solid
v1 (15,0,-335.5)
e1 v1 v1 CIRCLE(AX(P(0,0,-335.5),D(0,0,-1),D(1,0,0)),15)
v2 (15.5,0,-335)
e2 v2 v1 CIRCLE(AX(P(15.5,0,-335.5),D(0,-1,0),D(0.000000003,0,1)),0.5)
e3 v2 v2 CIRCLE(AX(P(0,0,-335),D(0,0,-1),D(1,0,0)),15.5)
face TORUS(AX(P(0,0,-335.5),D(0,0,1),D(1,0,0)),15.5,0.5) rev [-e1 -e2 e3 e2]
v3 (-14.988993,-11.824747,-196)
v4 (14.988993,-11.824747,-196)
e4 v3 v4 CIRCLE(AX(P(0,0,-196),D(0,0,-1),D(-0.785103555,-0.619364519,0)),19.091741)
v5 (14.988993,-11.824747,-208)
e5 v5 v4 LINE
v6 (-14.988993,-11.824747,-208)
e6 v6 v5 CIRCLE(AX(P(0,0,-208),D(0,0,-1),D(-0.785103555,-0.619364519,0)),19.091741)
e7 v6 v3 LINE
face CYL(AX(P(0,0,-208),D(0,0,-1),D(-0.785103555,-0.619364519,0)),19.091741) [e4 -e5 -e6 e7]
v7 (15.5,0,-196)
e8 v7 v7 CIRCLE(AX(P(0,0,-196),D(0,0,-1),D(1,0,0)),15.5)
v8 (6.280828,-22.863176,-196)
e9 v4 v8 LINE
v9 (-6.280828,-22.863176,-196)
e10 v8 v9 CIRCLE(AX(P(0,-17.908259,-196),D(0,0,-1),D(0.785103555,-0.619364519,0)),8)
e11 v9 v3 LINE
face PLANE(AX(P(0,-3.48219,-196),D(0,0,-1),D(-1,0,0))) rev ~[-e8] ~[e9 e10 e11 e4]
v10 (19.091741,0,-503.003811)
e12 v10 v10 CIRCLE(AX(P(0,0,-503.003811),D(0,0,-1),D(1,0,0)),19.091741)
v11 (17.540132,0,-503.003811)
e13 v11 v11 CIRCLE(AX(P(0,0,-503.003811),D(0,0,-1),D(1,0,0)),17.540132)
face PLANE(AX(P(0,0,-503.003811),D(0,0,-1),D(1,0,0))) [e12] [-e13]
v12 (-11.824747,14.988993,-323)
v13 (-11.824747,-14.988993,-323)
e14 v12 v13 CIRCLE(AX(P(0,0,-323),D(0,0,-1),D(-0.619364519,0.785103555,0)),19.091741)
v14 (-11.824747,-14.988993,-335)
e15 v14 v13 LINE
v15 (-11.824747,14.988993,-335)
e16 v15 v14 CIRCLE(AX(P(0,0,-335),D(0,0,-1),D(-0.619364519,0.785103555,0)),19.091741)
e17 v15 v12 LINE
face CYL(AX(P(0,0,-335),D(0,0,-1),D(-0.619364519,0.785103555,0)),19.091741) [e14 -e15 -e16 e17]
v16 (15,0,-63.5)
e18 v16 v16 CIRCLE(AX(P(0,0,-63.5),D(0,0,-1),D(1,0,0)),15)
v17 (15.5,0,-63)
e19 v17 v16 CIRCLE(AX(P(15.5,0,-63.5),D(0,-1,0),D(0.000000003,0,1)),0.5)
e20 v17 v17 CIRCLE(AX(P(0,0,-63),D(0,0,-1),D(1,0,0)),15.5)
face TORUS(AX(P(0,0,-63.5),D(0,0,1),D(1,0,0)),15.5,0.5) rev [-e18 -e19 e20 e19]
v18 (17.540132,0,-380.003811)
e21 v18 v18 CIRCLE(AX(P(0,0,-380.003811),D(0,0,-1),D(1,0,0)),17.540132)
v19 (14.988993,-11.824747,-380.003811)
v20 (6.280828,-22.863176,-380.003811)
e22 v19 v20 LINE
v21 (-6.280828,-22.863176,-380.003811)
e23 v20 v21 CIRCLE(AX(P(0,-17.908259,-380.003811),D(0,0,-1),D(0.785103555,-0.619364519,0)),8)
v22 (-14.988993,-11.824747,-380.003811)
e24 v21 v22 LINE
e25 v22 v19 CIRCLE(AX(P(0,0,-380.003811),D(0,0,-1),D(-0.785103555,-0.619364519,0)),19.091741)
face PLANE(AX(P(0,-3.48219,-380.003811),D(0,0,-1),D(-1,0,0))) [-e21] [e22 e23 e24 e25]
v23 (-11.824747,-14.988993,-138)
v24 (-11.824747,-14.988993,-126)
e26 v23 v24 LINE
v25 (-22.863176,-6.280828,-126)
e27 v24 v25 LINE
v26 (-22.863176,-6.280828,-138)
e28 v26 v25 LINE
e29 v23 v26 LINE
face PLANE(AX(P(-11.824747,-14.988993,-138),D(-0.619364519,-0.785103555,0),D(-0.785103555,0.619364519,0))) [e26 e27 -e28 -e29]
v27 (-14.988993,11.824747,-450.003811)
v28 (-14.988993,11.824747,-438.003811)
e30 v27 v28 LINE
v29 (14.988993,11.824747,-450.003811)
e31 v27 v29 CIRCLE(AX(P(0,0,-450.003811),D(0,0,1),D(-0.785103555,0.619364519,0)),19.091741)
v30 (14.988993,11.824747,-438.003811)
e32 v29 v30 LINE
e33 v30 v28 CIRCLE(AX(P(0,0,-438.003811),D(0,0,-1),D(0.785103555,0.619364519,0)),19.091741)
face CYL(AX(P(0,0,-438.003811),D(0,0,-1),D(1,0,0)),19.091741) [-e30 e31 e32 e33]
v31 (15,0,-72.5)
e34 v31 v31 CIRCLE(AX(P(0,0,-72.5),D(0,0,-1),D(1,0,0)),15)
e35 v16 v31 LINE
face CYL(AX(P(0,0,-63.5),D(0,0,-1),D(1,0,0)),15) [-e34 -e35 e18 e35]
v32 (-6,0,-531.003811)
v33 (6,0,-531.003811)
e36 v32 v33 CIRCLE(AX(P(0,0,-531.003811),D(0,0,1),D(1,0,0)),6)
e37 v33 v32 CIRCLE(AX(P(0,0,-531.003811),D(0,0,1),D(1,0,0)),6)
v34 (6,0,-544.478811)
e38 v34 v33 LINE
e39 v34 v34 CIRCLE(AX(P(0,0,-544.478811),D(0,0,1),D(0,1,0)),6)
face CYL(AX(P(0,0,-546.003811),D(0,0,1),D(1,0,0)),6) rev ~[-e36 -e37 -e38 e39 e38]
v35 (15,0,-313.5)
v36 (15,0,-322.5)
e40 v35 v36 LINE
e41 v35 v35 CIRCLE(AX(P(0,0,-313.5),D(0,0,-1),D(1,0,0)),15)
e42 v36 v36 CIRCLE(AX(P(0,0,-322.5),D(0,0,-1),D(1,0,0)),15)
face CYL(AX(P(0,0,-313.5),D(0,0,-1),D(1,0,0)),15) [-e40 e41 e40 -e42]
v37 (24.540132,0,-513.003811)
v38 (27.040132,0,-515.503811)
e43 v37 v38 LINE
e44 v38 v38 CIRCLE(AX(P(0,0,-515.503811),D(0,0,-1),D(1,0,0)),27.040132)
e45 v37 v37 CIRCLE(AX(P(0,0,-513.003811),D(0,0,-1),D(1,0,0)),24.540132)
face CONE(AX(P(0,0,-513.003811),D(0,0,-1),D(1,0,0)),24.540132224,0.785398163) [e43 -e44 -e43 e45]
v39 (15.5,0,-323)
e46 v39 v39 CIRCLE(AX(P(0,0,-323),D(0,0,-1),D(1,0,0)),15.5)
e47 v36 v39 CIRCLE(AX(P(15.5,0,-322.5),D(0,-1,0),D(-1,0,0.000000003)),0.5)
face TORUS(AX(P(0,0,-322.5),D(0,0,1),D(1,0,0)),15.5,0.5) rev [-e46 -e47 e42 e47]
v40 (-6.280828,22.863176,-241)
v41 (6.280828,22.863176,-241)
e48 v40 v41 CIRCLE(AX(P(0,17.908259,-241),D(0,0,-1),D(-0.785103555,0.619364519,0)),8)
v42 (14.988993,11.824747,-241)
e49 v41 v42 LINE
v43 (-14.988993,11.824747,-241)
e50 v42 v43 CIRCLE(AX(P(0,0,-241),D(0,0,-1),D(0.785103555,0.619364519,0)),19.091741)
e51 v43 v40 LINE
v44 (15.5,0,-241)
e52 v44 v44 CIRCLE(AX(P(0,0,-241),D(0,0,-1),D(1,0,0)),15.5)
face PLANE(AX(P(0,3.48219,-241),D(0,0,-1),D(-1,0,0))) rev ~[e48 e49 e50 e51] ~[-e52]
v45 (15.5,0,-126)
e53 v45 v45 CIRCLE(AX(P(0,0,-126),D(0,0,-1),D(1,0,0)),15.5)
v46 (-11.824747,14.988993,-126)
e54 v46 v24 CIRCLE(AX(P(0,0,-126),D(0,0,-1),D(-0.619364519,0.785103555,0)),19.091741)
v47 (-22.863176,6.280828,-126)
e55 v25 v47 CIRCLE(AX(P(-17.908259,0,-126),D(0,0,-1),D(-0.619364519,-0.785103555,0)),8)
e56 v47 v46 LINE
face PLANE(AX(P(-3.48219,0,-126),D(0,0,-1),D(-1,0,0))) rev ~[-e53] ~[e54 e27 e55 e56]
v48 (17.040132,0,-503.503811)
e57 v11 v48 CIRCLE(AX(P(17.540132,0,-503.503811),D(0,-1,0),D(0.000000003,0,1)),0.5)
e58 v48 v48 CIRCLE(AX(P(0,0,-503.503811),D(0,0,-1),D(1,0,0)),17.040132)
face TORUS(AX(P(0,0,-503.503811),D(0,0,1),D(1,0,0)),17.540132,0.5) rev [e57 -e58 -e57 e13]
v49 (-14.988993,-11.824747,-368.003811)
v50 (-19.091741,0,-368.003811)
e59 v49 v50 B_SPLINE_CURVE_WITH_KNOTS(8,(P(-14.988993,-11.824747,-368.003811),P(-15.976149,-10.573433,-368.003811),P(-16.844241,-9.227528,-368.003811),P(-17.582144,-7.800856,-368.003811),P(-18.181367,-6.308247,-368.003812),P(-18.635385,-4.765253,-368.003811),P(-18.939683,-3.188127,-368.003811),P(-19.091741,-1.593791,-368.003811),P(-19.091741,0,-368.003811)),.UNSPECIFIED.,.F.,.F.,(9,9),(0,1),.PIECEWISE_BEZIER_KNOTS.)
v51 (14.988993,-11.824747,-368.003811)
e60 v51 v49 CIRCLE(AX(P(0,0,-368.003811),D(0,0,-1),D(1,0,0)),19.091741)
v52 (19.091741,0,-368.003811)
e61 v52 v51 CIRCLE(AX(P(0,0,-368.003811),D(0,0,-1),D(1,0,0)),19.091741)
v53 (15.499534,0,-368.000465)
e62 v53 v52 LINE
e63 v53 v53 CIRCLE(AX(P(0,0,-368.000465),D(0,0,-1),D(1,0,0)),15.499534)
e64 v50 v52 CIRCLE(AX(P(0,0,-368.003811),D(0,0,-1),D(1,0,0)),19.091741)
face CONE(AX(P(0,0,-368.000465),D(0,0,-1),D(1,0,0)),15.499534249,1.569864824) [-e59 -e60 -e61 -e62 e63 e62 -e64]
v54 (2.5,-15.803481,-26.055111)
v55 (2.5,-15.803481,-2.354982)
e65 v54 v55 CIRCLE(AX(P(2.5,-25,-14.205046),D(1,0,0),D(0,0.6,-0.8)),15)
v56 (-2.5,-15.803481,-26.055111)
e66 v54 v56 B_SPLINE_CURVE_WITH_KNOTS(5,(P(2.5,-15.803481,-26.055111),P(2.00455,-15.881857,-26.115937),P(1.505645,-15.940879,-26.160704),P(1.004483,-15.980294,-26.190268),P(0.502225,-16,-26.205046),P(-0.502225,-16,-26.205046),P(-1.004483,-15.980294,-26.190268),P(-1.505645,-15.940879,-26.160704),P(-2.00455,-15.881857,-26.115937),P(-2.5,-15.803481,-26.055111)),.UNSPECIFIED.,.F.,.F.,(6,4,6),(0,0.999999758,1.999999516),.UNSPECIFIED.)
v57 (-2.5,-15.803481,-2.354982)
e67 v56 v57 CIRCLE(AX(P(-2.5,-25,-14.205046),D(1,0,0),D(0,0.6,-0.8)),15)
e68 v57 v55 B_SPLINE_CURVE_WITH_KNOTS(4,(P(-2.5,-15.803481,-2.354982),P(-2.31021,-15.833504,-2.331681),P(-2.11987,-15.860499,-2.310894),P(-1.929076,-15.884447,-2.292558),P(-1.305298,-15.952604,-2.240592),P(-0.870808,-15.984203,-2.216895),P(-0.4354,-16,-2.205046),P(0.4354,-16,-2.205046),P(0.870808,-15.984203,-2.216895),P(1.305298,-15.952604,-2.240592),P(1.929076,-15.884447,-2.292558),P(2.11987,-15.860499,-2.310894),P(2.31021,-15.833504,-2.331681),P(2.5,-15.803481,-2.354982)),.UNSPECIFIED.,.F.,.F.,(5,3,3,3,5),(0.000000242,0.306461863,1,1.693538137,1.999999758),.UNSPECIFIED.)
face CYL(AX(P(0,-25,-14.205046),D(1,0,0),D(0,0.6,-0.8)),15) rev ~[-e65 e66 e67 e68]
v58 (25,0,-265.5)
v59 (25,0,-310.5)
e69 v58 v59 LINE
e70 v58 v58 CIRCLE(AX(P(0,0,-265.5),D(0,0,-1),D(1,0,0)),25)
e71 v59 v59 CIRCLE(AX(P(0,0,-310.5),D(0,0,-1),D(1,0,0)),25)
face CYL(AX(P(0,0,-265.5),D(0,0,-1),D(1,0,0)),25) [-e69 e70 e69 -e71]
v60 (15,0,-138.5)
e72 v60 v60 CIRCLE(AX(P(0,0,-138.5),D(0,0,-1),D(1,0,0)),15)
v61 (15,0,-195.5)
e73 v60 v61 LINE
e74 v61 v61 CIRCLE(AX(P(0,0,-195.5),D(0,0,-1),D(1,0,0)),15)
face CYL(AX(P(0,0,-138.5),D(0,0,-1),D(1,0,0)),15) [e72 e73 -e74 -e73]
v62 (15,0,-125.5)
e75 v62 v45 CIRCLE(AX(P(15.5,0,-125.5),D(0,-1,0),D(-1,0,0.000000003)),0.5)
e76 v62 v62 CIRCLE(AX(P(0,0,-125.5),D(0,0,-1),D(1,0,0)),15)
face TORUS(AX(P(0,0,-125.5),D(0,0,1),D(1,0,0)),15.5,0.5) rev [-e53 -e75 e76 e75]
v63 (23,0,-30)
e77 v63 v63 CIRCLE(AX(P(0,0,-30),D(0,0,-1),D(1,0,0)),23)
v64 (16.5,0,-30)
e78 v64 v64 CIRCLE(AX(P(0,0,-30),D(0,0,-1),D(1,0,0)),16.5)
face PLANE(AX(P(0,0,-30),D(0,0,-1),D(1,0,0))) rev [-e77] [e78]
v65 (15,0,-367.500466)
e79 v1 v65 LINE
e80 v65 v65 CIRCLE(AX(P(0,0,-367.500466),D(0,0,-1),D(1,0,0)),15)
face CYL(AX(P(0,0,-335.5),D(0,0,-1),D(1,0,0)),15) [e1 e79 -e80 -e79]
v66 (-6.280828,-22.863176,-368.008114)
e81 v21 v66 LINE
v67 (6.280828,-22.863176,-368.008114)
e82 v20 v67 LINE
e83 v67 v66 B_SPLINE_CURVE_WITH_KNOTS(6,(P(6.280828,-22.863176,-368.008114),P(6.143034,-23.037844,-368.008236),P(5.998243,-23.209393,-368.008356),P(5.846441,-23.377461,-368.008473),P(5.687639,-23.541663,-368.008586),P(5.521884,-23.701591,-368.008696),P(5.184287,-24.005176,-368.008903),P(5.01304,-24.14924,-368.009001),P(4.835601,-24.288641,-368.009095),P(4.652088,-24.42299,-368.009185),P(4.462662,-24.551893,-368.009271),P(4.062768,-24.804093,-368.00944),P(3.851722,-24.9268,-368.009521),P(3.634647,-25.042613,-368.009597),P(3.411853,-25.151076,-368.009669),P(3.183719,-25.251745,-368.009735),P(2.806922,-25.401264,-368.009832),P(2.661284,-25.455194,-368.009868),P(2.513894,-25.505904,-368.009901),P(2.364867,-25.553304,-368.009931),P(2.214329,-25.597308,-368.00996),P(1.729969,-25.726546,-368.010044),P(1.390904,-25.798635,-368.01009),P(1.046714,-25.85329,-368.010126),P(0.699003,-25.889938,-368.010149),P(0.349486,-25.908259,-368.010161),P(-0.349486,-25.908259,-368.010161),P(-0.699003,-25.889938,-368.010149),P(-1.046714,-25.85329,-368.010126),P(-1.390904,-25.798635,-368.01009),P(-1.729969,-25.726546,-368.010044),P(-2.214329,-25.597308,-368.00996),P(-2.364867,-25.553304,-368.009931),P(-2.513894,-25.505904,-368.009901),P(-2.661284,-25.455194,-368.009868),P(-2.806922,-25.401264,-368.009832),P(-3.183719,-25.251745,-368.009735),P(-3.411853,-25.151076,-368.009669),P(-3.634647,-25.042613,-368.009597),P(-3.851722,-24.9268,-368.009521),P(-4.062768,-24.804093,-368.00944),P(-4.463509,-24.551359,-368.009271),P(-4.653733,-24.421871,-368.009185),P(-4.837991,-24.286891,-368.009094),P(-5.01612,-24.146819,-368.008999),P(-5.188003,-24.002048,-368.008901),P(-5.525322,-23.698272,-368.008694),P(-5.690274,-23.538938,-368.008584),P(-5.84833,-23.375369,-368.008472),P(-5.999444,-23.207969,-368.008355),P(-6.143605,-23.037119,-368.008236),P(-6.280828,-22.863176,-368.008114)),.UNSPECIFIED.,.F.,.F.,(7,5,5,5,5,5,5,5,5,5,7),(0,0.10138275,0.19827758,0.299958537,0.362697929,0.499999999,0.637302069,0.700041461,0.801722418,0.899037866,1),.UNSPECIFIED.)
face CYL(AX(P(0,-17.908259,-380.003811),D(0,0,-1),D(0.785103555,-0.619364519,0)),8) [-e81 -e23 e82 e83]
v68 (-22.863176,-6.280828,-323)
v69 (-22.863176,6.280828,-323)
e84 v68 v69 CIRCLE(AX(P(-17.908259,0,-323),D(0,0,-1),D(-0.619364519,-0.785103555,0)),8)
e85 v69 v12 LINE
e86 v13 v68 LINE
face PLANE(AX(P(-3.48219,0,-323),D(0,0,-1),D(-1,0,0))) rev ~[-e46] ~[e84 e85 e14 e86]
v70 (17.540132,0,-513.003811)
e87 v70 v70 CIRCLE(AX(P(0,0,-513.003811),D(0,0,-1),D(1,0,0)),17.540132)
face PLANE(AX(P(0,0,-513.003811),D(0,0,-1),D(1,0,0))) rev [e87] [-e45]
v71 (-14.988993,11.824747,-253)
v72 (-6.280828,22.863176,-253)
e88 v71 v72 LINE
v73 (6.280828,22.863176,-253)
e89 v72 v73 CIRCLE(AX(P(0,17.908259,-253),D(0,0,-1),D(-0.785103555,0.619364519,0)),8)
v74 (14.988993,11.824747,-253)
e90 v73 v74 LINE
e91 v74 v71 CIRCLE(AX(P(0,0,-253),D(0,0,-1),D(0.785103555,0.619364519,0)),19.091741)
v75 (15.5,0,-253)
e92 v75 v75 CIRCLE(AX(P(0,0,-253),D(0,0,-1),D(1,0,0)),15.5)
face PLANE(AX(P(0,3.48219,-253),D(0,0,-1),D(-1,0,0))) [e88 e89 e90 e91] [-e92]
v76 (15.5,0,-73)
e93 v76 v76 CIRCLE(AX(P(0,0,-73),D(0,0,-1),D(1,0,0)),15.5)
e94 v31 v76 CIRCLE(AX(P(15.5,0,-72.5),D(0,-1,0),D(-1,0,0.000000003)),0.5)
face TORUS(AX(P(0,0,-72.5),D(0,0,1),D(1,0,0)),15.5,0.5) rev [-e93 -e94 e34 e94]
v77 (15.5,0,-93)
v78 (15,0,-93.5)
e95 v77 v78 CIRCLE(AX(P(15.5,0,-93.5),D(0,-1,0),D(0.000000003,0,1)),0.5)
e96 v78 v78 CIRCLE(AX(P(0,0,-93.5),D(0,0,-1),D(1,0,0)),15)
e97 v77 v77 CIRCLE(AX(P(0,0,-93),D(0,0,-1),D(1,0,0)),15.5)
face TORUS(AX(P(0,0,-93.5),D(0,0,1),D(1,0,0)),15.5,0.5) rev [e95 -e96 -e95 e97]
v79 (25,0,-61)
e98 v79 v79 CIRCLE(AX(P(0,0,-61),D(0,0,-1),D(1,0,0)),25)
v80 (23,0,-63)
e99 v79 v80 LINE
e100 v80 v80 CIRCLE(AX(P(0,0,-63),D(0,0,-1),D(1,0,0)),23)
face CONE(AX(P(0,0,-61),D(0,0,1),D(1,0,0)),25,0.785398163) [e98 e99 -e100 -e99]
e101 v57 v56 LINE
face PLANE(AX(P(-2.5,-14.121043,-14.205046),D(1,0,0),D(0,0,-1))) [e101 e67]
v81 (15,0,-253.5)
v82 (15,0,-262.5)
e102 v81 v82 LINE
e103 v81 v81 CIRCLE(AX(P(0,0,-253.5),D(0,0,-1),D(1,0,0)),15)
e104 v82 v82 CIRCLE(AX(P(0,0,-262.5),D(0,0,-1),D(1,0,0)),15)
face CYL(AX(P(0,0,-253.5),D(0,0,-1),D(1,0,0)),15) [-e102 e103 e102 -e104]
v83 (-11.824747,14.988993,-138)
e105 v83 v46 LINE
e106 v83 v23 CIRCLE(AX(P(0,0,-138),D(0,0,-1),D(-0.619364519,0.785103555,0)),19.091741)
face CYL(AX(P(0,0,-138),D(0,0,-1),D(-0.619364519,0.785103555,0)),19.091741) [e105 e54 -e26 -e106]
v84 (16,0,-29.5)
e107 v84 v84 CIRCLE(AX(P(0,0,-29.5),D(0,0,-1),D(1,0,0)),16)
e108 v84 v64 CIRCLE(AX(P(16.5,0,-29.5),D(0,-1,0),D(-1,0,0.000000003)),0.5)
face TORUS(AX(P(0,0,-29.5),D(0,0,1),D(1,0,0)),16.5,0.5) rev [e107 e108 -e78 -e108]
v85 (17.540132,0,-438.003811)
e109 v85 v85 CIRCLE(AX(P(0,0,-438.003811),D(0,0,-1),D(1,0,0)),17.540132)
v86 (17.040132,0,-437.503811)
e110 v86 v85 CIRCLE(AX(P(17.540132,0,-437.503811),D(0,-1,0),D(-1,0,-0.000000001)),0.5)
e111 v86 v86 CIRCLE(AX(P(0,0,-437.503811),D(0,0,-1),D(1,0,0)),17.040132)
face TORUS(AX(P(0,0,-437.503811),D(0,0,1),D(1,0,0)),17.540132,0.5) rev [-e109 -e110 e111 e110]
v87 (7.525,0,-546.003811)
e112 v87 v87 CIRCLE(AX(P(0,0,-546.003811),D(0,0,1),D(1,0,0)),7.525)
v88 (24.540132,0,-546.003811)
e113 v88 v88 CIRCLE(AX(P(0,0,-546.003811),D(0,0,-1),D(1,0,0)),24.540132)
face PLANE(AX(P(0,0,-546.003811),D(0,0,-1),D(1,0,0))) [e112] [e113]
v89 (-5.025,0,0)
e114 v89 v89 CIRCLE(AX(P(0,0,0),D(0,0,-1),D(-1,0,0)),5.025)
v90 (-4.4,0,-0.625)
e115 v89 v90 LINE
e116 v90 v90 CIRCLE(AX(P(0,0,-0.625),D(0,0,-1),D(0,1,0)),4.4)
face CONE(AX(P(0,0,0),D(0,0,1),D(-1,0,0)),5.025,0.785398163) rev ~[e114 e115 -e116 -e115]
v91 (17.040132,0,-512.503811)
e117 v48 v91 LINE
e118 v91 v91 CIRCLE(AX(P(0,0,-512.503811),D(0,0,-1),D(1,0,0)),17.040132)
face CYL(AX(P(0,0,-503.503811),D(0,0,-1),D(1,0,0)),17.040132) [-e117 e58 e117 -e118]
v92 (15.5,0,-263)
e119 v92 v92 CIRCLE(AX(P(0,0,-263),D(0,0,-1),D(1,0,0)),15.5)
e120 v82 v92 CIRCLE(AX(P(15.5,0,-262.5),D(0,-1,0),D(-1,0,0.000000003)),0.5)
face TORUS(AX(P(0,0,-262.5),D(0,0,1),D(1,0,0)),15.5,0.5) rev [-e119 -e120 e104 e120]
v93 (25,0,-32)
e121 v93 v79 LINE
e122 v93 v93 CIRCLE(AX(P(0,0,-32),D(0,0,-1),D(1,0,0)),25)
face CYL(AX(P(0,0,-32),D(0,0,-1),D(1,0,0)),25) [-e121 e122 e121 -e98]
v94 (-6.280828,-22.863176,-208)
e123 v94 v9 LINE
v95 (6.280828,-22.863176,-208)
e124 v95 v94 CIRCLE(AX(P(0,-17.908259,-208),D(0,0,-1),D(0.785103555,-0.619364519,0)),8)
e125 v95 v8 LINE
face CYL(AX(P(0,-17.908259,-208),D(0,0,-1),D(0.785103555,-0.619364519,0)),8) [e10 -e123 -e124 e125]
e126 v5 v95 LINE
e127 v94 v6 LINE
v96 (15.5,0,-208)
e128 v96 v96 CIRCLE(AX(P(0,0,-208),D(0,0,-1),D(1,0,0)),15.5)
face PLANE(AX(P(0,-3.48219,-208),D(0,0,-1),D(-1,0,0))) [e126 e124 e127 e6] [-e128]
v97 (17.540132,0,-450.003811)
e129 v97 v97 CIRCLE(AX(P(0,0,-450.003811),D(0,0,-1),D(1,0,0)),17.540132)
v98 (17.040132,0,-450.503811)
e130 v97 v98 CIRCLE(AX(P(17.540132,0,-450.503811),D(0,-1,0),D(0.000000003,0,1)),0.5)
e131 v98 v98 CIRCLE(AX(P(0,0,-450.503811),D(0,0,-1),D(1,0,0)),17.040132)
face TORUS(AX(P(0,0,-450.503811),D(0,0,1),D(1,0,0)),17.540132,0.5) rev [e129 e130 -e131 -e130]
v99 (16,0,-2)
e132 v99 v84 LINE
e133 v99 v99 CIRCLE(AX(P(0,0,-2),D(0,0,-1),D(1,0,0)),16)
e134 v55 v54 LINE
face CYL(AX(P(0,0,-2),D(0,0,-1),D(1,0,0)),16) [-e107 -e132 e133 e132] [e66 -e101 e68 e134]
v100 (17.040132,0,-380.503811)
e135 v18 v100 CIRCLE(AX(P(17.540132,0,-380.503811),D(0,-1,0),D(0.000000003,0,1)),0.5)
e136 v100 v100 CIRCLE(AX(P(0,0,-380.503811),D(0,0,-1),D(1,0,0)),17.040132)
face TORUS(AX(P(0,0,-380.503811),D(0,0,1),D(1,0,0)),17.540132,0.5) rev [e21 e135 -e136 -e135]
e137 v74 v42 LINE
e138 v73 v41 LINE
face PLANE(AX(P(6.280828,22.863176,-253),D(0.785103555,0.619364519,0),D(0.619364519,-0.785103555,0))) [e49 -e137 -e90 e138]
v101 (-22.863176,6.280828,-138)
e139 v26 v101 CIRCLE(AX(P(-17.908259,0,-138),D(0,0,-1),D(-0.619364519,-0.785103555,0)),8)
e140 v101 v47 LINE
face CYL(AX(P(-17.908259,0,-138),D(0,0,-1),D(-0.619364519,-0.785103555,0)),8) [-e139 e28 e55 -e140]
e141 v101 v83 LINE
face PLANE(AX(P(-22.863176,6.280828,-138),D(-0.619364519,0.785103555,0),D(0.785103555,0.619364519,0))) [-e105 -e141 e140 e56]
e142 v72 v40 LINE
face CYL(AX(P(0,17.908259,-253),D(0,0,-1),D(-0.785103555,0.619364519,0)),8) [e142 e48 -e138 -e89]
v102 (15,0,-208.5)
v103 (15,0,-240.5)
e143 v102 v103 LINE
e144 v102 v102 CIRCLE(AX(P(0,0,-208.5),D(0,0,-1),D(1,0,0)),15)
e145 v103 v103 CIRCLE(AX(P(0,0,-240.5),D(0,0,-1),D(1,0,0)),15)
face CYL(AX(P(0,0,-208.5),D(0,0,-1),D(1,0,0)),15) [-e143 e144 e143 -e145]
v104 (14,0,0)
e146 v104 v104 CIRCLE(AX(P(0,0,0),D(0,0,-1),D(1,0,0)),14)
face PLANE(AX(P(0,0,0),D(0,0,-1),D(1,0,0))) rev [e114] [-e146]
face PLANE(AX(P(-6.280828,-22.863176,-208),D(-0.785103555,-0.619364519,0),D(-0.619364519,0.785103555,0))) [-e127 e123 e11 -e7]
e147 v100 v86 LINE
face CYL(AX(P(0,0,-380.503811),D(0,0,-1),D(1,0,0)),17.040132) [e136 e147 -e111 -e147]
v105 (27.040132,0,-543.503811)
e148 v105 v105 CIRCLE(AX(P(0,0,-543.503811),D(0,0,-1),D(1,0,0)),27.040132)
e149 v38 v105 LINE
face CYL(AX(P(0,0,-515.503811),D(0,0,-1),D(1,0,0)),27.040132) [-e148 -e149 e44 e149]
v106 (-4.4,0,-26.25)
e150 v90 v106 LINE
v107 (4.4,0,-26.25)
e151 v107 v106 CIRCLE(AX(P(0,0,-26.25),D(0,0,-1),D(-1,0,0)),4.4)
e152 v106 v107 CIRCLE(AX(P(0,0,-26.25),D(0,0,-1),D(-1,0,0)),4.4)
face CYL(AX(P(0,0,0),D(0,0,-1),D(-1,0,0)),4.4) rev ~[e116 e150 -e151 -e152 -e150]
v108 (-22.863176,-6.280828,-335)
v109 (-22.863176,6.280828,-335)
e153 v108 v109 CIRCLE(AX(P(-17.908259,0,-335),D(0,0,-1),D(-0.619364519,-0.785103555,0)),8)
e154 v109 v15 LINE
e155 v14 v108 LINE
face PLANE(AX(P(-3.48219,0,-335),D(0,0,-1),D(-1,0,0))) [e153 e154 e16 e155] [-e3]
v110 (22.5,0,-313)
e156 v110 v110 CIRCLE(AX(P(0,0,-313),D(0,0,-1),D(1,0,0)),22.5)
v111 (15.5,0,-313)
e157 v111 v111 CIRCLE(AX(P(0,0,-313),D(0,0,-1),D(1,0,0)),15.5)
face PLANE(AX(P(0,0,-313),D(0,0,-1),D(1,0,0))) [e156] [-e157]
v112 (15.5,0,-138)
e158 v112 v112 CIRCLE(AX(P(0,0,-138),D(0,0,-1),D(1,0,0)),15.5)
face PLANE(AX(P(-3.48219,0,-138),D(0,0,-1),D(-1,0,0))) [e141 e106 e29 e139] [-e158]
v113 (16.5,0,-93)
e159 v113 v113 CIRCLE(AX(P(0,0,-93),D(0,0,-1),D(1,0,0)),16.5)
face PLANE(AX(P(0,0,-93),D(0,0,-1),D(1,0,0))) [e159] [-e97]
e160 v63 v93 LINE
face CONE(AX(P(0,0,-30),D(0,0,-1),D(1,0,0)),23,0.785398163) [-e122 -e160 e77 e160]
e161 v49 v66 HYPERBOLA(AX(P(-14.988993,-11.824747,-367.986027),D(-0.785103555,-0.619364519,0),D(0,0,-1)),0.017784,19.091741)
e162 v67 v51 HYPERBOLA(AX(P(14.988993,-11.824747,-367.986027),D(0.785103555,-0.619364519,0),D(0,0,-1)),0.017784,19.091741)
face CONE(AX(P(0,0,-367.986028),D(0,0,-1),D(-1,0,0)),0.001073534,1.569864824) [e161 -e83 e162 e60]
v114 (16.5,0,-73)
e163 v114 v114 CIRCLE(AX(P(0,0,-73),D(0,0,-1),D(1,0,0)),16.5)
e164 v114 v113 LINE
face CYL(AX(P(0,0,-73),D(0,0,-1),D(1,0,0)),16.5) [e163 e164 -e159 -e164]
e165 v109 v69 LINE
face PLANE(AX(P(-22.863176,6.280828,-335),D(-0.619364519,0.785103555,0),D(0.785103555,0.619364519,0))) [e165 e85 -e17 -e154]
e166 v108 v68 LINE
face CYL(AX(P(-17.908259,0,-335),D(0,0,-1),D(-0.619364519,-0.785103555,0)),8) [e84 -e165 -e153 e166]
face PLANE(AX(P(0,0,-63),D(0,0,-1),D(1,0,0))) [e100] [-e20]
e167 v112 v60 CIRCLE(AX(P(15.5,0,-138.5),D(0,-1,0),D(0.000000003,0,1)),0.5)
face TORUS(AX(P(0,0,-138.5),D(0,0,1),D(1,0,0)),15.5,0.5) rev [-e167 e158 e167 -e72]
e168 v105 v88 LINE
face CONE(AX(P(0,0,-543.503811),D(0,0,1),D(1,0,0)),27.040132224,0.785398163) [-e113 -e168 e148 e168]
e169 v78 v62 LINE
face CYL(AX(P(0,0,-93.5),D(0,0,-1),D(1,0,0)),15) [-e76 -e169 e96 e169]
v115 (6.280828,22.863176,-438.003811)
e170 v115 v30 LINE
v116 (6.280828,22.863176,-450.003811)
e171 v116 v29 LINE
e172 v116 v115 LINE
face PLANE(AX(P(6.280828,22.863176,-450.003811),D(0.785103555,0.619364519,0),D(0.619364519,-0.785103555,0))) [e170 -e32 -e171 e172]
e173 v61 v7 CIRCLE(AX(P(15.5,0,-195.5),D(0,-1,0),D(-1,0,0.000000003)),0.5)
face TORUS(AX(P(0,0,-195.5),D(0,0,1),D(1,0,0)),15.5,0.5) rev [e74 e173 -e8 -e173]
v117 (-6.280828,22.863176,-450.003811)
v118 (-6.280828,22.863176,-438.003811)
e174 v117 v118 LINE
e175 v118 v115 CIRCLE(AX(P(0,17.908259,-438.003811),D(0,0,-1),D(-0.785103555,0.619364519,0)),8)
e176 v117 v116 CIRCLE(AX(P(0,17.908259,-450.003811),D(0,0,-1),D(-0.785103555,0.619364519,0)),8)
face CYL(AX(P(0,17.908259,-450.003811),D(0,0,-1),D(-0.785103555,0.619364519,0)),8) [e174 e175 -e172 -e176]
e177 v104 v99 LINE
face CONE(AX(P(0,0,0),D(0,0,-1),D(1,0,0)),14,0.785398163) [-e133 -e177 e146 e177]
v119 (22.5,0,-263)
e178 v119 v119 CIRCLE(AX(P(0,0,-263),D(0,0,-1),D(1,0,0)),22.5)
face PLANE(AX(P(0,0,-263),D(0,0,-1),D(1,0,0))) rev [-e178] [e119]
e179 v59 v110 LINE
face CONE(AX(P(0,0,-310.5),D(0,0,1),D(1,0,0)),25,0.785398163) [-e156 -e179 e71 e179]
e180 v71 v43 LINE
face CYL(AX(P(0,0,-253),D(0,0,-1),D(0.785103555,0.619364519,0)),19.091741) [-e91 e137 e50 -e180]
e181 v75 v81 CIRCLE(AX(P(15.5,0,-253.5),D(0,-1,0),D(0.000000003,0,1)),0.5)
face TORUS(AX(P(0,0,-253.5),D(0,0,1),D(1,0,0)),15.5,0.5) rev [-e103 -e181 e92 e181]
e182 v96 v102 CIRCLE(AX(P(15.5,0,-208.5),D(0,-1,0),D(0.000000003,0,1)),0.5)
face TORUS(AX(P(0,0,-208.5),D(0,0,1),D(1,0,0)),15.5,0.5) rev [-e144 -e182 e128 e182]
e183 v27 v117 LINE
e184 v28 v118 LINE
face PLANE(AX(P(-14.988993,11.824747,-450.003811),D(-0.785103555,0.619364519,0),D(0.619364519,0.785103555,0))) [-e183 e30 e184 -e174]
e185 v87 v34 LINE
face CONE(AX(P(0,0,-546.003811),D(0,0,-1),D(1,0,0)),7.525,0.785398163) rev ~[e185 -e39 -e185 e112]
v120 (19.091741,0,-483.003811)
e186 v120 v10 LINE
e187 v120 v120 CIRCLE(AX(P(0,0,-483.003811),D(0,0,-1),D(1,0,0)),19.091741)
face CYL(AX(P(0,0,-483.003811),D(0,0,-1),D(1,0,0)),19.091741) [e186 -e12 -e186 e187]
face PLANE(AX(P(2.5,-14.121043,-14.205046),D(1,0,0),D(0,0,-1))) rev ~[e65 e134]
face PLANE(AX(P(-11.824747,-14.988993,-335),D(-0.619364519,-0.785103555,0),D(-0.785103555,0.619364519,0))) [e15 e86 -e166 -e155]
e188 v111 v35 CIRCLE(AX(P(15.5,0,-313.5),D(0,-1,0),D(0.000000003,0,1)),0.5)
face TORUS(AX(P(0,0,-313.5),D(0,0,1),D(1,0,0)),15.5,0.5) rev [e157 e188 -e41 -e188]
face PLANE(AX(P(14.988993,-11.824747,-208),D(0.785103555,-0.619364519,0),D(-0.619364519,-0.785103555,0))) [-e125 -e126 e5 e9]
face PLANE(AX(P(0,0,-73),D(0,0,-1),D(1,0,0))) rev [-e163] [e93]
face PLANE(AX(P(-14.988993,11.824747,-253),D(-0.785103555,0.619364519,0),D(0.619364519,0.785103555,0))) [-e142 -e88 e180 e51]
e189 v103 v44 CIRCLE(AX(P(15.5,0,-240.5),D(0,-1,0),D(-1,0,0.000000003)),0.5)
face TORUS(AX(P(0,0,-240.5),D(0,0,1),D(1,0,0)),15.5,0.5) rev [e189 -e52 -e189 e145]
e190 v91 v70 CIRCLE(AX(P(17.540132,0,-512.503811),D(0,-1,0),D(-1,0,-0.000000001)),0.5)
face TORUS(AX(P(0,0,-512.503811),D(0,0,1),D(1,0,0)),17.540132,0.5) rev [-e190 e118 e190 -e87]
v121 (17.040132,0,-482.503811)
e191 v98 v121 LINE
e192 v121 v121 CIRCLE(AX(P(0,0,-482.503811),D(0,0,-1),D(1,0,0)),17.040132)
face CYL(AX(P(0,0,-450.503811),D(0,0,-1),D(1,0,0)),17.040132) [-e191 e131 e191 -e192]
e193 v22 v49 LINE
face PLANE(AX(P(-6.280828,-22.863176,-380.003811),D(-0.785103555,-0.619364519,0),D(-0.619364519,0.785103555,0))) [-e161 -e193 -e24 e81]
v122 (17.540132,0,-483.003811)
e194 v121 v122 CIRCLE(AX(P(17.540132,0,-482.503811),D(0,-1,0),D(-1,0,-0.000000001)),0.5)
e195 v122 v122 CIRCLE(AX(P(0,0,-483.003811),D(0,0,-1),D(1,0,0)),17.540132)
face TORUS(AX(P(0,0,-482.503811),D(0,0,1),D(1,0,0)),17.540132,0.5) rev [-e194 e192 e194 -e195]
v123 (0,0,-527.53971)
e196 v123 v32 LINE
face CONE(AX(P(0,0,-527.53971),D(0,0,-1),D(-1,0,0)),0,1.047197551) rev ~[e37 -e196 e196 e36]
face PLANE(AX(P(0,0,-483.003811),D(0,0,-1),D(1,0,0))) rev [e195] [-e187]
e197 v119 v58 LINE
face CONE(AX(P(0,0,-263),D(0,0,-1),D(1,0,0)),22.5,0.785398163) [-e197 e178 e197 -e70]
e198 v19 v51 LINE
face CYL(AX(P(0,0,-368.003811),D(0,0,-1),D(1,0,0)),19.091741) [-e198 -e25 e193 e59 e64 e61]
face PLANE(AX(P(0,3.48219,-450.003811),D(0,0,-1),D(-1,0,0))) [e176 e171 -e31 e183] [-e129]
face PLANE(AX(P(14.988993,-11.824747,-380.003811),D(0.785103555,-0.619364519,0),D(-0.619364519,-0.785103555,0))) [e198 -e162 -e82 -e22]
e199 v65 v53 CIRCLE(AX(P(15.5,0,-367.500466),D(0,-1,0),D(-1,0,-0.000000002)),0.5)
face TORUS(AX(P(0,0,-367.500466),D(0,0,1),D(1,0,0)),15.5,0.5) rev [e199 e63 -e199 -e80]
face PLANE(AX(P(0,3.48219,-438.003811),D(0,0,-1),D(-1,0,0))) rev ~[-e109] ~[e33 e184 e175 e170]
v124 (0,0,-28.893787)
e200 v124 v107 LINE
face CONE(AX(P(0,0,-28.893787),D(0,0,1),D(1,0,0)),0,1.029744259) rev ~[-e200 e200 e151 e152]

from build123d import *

# Parameters (mm, degrees)
F_12_0_12_DIAMETER_HOLE1_D           = 12
F_12_0_12_DIAMETER_HOLE1_DEPTH       = 15
F_12_0_12_DIAMETER_HOLE1_CSINK_D     = 15.05
F_12_0_12_DIAMETER_HOLE1_CSINK_ANGLE = 90
F_12_0_12_DIAMETER_HOLE1_TIP         = 3.464101615
M10X1_25_TAPPED_HOLE1_D              = 8.8
M10X1_25_TAPPED_HOLE1_DEPTH          = 26.25
M10X1_25_TAPPED_HOLE1_CSINK_D        = 10.05
M10X1_25_TAPPED_HOLE1_CSINK_ANGLE    = 90
M10X1_25_TAPPED_HOLE1_TIP            = 2.643786724
CUT_EXTRUDE1_DEPTH                   = 2.5
BOSS_EXTRUDE2_DEPTH                  = 12
BOSS_EXTRUDE3_REACH                  = 383.923
BOSS_EXTRUDE4_DEPTH                  = 12
BOSS_EXTRUDE5_DEPTH                  = 12
BOSS_EXTRUDE6_DEPTH                  = 12
BOSS_EXTRUDE7_DEPTH                  = 12


with BuildPart() as part:
    # Sketch1 → Revolve1 (revolve)
    with BuildSketch(Plane(origin=(0, 0, 0), x_dir=(0, 0, -1), z_dir=(1, 0, 0)), mode=Mode.PRIVATE) as revolve1_sk:
        with BuildLine():
            Line((0, 0), (0, 14))
            Line((0, 14), (2, 16))
            Line((2, 16), (29.5, 16))
            ThreePointArc((29.5, 16), (29.853553391, 16.146446609), (30, 16.5))
            Line((30, 16.5), (30, 23))
            Line((30, 23), (32, 25))
            Line((32, 25), (61, 25))
            Line((61, 25), (63, 23))
            Line((63, 23), (63, 15.5))
            ThreePointArc((63, 15.5), (63.146446609, 15.146446609), (63.5, 15))
            Line((63.5, 15), (72.5, 15))
            ThreePointArc((72.5, 15), (72.853553391, 15.146446609), (73, 15.5))
            Line((73, 15.5), (73, 16.5))
            Line((73, 16.5), (93, 16.5))
            Line((93, 16.5), (93, 15.5))
            ThreePointArc((93, 15.5), (93.146446609, 15.146446609), (93.5, 15))
            Line((93.5, 15), (125.5, 15))
            ThreePointArc((125.5, 15), (125.853553391, 15.146446609), (126, 15.5))
            Line((126, 15.5), (126, 17.0516083))
            Line((126, 17.0516083), (138, 17.0516083))
            Line((138, 17.0516083), (138, 15.5))
            ThreePointArc((138, 15.5), (138.146446609, 15.146446609), (138.5, 15))
            Line((138.5, 15), (195.5, 15))
            ThreePointArc((195.5, 15), (195.853553391, 15.146446609), (196, 15.5))
            Line((196, 15.5), (196, 17.0516083))
            Line((196, 17.0516083), (208, 17.0516083))
            Line((208, 17.0516083), (208, 15.5))
            ThreePointArc((208, 15.5), (208.146446609, 15.146446609), (208.5, 15))
            Line((208.5, 15), (240.5, 15))
            ThreePointArc((240.5, 15), (240.853553391, 15.146446609), (241, 15.5))
            Line((241, 15.5), (241, 17.0516083))
            Line((241, 17.0516083), (253, 17.0516083))
            Line((253, 17.0516083), (253, 15.5))
            ThreePointArc((253, 15.5), (253.146446609, 15.146446609), (253.5, 15))
            Line((253.5, 15), (262.5, 15))
            ThreePointArc((262.5, 15), (262.853553391, 15.146446609), (263, 15.5))
            Line((263, 15.5), (263, 22.5))
            Line((263, 22.5), (265.5, 25))
            Line((265.5, 25), (310.5, 25))
            Line((310.5, 25), (313, 22.5))
            Line((313, 22.5), (313, 15.5))
            ThreePointArc((313, 15.5), (313.146446609, 15.146446609), (313.5, 15))
            Line((313.5, 15), (322.5, 15))
            ThreePointArc((322.5, 15), (322.853553391, 15.146446609), (323, 15.5))
            Line((323, 15.5), (323, 17.0516083))
            Line((323, 17.0516083), (335, 17.0516083))
            Line((335, 17.0516083), (335, 15.5))
            ThreePointArc((335, 15.5), (335.146446609, 15.146446609), (335.5, 15))
            Line((335.5, 15), (367.500465535, 15))
            ThreePointArc((367.500465535, 15), (367.853854219, 15.14628198), (368.000465318, 15.499534249))
            Line((368.000465318, 15.499534249), (368.00381147, 19.091740524))
            Line((368.00381147, 19.091740524), (380.00381147, 19.091740524))
            Line((380.00381147, 19.091740524), (380.00381147, 17.540132224))
            ThreePointArc((380.00381147, 17.540132224), (380.150258079, 17.186578833), (380.50381147, 17.040132224))
            Line((380.50381147, 17.040132224), (437.50381147, 17.040132224))
            ThreePointArc((437.50381147, 17.040132224), (437.85736486, 17.186578833), (438.00381147, 17.540132224))
            Line((438.00381147, 17.540132224), (438.00381147, 19.091740524))
            Line((438.00381147, 19.091740524), (450.00381147, 19.091740524))
            Line((450.00381147, 19.091740524), (450.00381147, 17.540132224))
            ThreePointArc((450.00381147, 17.540132224), (450.150258079, 17.186578833), (450.50381147, 17.040132224))
            Line((450.50381147, 17.040132224), (482.50381147, 17.040132224))
            ThreePointArc((482.50381147, 17.040132224), (482.85736486, 17.186578833), (483.00381147, 17.540132224))
            Line((483.00381147, 17.540132224), (483.00381147, 19.091740524))
            Line((483.00381147, 19.091740524), (503.00381147, 19.091740524))
            Line((503.00381147, 19.091740524), (503.00381147, 17.540132224))
            ThreePointArc((503.00381147, 17.540132224), (503.150258079, 17.186578833), (503.50381147, 17.040132224))
            Line((503.50381147, 17.040132224), (512.50381147, 17.040132224))
            ThreePointArc((512.50381147, 17.040132224), (512.85736486, 17.186578833), (513.00381147, 17.540132224))
            Line((513.00381147, 17.540132224), (513.00381147, 24.540132224))
            Line((513.00381147, 24.540132224), (515.50381147, 27.040132224))
            Line((515.50381147, 27.040132224), (543.50381147, 27.040132224))
            Line((543.50381147, 27.040132224), (546.00381147, 24.540132224))
            Line((546.00381147, 24.540132224), (546.00381147, 0))
            Line((546.00381147, 0), (0, 0))
        make_face()
    revolve(revolve1_sk.sketch.rotate(Axis((0, 0, 0), (0, 0, -1)), 90), axis=Axis((0, 0, 0), (0, 0, -1)))

    # Ø12.0 (12) Diameter Hole1
    with Locations(Plane(origin=(0, 0, -546.00381147), x_dir=(-1, 0, 0), z_dir=(0, 0, -1))):
        with Locations((0, 0)):
            CounterSinkHole(F_12_0_12_DIAMETER_HOLE1_D / 2, F_12_0_12_DIAMETER_HOLE1_CSINK_D / 2, depth=F_12_0_12_DIAMETER_HOLE1_DEPTH, counter_sink_angle=F_12_0_12_DIAMETER_HOLE1_CSINK_ANGLE)
            with Locations((0, 0, -(F_12_0_12_DIAMETER_HOLE1_DEPTH + F_12_0_12_DIAMETER_HOLE1_TIP / 2))):  # 120° drill point
                Cone(0, F_12_0_12_DIAMETER_HOLE1_D / 2, F_12_0_12_DIAMETER_HOLE1_TIP, mode=Mode.SUBTRACT)

    # M10x1.25 Tapped Hole1
    with Locations(Plane.XY):
        with Locations((0, 0)):
            CounterSinkHole(M10X1_25_TAPPED_HOLE1_D / 2, M10X1_25_TAPPED_HOLE1_CSINK_D / 2, depth=M10X1_25_TAPPED_HOLE1_DEPTH, counter_sink_angle=M10X1_25_TAPPED_HOLE1_CSINK_ANGLE)
            with Locations((0, 0, -(M10X1_25_TAPPED_HOLE1_DEPTH + M10X1_25_TAPPED_HOLE1_TIP / 2))):  # 118° drill point
                Cone(0, M10X1_25_TAPPED_HOLE1_D / 2, M10X1_25_TAPPED_HOLE1_TIP, mode=Mode.SUBTRACT)

    # Sketch7 → Cut-Extrude1 (cut, symmetric)
    with BuildSketch(Plane(origin=(0, 0, 0), x_dir=(0, 0, -1), z_dir=(1, 0, 0))):
        with BuildLine():
            Line((2.205046427, -16), (26.205046427, -16))
            ThreePointArc((26.205046427, -16), (14.205046427, -10), (2.205046427, -16))
        make_face()
    extrude(amount=CUT_EXTRUDE1_DEPTH, both=True, mode=Mode.SUBTRACT)

    # Sketch8 → Boss-Extrude2 (add)
    with BuildSketch(Plane(origin=(0, 0, -450.00381147), x_dir=(-1, 0, 0), z_dir=(0, 0, -1))):
        with BuildLine():
            Line((-6.28082844, 22.863175631), (-14.988993357, 11.824746695))
            ThreePointArc((-14.988993357, 11.824746695), (0, -19.091740524), (14.988993357, 11.824746695))
            Line((14.988993357, 11.824746695), (6.28082844, 22.863175631))
            ThreePointArc((6.28082844, 22.863175631), (0, 25.908259476), (-6.28082844, 22.863175631))
        make_face()
    extrude(amount=-BOSS_EXTRUDE2_DEPTH)

    # Boss-Extrude3: up to this cone (the profile starts inside it)
    boss_extrude3_end = Plane(origin=(0, 0, -380.003811), z_dir=(0, 0, -1)).offset(-12.017782549) * Cone(0.001073534, 14275778.106079647, 13297.934227361, align=(Align.CENTER, Align.CENTER, Align.MIN), mode=Mode.PRIVATE)
    # Sketch9 → Boss-Extrude3 (add, up to the surface)
    with BuildSketch(Plane(origin=(0, 0, -380.00381147), x_dir=(-1, 0, 0), z_dir=(0, 0, -1)), mode=Mode.PRIVATE) as boss_extrude3_sk1:
        with BuildLine():
            Line((6.28082844, -22.863175631), (14.988993357, -11.824746695))
            ThreePointArc((14.988993357, -11.824746695), (0, 19.091740524), (-14.988993357, -11.824746695))
            Line((-14.988993357, -11.824746695), (-6.28082844, -22.863175631))
            ThreePointArc((-6.28082844, -22.863175631), (0, -25.908259476), (6.28082844, -22.863175631))
        make_face()
    boss_extrude3_tool1 = extrude(boss_extrude3_sk1.sketch, amount=-BOSS_EXTRUDE3_REACH, mode=Mode.PRIVATE) & boss_extrude3_end
    add(boss_extrude3_tool1.solids().sort_by_distance((0, -1.827435, -380.003811))[0])

    # Sketch10 → Boss-Extrude4 (add)
    with BuildSketch(Plane(origin=(0, 0, -335), x_dir=(-1, 0, 0), z_dir=(0, 0, -1))):
        with BuildLine():
            Line((22.863175631, 6.28082844), (11.824746695, 14.988993357))
            ThreePointArc((11.824746695, 14.988993357), (-19.091740524, 0), (11.824746695, -14.988993357))
            Line((11.824746695, -14.988993357), (22.863175631, -6.28082844))
            ThreePointArc((22.863175631, -6.28082844), (25.908259476, 0), (22.863175631, 6.28082844))
        make_face()
    extrude(amount=-BOSS_EXTRUDE4_DEPTH)

    # Sketch11 → Boss-Extrude5 (add)
    with BuildSketch(Plane(origin=(0, 0, -253), x_dir=(-1, 0, 0), z_dir=(0, 0, -1))):
        with BuildLine():
            Line((-6.28082844, 22.863175631), (-14.988993357, 11.824746695))
            ThreePointArc((-14.988993357, 11.824746695), (0, -19.091740524), (14.988993357, 11.824746695))
            Line((14.988993357, 11.824746695), (6.28082844, 22.863175631))
            ThreePointArc((6.28082844, 22.863175631), (0, 25.908259476), (-6.28082844, 22.863175631))
        make_face()
    extrude(amount=-BOSS_EXTRUDE5_DEPTH)

    # Sketch12 → Boss-Extrude6 (add)
    with BuildSketch(Plane(origin=(0, 0, -208), x_dir=(-1, 0, 0), z_dir=(0, 0, -1))):
        with BuildLine():
            Line((6.28082844, -22.863175631), (14.988993357, -11.824746695))
            ThreePointArc((14.988993357, -11.824746695), (0, 19.091740524), (-14.988993357, -11.824746695))
            Line((-14.988993357, -11.824746695), (-6.28082844, -22.863175631))
            ThreePointArc((-6.28082844, -22.863175631), (0, -25.908259476), (6.28082844, -22.863175631))
        make_face()
    extrude(amount=-BOSS_EXTRUDE6_DEPTH)

    # Sketch13 → Boss-Extrude7 (add)
    with BuildSketch(Plane(origin=(0, 0, -138), x_dir=(-1, 0, 0), z_dir=(0, 0, -1))):
        with BuildLine():
            Line((22.863175631, 6.28082844), (11.824746695, 14.988993357))
            ThreePointArc((11.824746695, 14.988993357), (-19.091740524, 0), (11.824746695, -14.988993357))
            Line((11.824746695, -14.988993357), (22.863175631, -6.28082844))
            ThreePointArc((22.863175631, -6.28082844), (25.908259476, 0), (22.863175631, 6.28082844))
        make_face()
    extrude(amount=-BOSS_EXTRUDE7_DEPTH)


solid = part.part
